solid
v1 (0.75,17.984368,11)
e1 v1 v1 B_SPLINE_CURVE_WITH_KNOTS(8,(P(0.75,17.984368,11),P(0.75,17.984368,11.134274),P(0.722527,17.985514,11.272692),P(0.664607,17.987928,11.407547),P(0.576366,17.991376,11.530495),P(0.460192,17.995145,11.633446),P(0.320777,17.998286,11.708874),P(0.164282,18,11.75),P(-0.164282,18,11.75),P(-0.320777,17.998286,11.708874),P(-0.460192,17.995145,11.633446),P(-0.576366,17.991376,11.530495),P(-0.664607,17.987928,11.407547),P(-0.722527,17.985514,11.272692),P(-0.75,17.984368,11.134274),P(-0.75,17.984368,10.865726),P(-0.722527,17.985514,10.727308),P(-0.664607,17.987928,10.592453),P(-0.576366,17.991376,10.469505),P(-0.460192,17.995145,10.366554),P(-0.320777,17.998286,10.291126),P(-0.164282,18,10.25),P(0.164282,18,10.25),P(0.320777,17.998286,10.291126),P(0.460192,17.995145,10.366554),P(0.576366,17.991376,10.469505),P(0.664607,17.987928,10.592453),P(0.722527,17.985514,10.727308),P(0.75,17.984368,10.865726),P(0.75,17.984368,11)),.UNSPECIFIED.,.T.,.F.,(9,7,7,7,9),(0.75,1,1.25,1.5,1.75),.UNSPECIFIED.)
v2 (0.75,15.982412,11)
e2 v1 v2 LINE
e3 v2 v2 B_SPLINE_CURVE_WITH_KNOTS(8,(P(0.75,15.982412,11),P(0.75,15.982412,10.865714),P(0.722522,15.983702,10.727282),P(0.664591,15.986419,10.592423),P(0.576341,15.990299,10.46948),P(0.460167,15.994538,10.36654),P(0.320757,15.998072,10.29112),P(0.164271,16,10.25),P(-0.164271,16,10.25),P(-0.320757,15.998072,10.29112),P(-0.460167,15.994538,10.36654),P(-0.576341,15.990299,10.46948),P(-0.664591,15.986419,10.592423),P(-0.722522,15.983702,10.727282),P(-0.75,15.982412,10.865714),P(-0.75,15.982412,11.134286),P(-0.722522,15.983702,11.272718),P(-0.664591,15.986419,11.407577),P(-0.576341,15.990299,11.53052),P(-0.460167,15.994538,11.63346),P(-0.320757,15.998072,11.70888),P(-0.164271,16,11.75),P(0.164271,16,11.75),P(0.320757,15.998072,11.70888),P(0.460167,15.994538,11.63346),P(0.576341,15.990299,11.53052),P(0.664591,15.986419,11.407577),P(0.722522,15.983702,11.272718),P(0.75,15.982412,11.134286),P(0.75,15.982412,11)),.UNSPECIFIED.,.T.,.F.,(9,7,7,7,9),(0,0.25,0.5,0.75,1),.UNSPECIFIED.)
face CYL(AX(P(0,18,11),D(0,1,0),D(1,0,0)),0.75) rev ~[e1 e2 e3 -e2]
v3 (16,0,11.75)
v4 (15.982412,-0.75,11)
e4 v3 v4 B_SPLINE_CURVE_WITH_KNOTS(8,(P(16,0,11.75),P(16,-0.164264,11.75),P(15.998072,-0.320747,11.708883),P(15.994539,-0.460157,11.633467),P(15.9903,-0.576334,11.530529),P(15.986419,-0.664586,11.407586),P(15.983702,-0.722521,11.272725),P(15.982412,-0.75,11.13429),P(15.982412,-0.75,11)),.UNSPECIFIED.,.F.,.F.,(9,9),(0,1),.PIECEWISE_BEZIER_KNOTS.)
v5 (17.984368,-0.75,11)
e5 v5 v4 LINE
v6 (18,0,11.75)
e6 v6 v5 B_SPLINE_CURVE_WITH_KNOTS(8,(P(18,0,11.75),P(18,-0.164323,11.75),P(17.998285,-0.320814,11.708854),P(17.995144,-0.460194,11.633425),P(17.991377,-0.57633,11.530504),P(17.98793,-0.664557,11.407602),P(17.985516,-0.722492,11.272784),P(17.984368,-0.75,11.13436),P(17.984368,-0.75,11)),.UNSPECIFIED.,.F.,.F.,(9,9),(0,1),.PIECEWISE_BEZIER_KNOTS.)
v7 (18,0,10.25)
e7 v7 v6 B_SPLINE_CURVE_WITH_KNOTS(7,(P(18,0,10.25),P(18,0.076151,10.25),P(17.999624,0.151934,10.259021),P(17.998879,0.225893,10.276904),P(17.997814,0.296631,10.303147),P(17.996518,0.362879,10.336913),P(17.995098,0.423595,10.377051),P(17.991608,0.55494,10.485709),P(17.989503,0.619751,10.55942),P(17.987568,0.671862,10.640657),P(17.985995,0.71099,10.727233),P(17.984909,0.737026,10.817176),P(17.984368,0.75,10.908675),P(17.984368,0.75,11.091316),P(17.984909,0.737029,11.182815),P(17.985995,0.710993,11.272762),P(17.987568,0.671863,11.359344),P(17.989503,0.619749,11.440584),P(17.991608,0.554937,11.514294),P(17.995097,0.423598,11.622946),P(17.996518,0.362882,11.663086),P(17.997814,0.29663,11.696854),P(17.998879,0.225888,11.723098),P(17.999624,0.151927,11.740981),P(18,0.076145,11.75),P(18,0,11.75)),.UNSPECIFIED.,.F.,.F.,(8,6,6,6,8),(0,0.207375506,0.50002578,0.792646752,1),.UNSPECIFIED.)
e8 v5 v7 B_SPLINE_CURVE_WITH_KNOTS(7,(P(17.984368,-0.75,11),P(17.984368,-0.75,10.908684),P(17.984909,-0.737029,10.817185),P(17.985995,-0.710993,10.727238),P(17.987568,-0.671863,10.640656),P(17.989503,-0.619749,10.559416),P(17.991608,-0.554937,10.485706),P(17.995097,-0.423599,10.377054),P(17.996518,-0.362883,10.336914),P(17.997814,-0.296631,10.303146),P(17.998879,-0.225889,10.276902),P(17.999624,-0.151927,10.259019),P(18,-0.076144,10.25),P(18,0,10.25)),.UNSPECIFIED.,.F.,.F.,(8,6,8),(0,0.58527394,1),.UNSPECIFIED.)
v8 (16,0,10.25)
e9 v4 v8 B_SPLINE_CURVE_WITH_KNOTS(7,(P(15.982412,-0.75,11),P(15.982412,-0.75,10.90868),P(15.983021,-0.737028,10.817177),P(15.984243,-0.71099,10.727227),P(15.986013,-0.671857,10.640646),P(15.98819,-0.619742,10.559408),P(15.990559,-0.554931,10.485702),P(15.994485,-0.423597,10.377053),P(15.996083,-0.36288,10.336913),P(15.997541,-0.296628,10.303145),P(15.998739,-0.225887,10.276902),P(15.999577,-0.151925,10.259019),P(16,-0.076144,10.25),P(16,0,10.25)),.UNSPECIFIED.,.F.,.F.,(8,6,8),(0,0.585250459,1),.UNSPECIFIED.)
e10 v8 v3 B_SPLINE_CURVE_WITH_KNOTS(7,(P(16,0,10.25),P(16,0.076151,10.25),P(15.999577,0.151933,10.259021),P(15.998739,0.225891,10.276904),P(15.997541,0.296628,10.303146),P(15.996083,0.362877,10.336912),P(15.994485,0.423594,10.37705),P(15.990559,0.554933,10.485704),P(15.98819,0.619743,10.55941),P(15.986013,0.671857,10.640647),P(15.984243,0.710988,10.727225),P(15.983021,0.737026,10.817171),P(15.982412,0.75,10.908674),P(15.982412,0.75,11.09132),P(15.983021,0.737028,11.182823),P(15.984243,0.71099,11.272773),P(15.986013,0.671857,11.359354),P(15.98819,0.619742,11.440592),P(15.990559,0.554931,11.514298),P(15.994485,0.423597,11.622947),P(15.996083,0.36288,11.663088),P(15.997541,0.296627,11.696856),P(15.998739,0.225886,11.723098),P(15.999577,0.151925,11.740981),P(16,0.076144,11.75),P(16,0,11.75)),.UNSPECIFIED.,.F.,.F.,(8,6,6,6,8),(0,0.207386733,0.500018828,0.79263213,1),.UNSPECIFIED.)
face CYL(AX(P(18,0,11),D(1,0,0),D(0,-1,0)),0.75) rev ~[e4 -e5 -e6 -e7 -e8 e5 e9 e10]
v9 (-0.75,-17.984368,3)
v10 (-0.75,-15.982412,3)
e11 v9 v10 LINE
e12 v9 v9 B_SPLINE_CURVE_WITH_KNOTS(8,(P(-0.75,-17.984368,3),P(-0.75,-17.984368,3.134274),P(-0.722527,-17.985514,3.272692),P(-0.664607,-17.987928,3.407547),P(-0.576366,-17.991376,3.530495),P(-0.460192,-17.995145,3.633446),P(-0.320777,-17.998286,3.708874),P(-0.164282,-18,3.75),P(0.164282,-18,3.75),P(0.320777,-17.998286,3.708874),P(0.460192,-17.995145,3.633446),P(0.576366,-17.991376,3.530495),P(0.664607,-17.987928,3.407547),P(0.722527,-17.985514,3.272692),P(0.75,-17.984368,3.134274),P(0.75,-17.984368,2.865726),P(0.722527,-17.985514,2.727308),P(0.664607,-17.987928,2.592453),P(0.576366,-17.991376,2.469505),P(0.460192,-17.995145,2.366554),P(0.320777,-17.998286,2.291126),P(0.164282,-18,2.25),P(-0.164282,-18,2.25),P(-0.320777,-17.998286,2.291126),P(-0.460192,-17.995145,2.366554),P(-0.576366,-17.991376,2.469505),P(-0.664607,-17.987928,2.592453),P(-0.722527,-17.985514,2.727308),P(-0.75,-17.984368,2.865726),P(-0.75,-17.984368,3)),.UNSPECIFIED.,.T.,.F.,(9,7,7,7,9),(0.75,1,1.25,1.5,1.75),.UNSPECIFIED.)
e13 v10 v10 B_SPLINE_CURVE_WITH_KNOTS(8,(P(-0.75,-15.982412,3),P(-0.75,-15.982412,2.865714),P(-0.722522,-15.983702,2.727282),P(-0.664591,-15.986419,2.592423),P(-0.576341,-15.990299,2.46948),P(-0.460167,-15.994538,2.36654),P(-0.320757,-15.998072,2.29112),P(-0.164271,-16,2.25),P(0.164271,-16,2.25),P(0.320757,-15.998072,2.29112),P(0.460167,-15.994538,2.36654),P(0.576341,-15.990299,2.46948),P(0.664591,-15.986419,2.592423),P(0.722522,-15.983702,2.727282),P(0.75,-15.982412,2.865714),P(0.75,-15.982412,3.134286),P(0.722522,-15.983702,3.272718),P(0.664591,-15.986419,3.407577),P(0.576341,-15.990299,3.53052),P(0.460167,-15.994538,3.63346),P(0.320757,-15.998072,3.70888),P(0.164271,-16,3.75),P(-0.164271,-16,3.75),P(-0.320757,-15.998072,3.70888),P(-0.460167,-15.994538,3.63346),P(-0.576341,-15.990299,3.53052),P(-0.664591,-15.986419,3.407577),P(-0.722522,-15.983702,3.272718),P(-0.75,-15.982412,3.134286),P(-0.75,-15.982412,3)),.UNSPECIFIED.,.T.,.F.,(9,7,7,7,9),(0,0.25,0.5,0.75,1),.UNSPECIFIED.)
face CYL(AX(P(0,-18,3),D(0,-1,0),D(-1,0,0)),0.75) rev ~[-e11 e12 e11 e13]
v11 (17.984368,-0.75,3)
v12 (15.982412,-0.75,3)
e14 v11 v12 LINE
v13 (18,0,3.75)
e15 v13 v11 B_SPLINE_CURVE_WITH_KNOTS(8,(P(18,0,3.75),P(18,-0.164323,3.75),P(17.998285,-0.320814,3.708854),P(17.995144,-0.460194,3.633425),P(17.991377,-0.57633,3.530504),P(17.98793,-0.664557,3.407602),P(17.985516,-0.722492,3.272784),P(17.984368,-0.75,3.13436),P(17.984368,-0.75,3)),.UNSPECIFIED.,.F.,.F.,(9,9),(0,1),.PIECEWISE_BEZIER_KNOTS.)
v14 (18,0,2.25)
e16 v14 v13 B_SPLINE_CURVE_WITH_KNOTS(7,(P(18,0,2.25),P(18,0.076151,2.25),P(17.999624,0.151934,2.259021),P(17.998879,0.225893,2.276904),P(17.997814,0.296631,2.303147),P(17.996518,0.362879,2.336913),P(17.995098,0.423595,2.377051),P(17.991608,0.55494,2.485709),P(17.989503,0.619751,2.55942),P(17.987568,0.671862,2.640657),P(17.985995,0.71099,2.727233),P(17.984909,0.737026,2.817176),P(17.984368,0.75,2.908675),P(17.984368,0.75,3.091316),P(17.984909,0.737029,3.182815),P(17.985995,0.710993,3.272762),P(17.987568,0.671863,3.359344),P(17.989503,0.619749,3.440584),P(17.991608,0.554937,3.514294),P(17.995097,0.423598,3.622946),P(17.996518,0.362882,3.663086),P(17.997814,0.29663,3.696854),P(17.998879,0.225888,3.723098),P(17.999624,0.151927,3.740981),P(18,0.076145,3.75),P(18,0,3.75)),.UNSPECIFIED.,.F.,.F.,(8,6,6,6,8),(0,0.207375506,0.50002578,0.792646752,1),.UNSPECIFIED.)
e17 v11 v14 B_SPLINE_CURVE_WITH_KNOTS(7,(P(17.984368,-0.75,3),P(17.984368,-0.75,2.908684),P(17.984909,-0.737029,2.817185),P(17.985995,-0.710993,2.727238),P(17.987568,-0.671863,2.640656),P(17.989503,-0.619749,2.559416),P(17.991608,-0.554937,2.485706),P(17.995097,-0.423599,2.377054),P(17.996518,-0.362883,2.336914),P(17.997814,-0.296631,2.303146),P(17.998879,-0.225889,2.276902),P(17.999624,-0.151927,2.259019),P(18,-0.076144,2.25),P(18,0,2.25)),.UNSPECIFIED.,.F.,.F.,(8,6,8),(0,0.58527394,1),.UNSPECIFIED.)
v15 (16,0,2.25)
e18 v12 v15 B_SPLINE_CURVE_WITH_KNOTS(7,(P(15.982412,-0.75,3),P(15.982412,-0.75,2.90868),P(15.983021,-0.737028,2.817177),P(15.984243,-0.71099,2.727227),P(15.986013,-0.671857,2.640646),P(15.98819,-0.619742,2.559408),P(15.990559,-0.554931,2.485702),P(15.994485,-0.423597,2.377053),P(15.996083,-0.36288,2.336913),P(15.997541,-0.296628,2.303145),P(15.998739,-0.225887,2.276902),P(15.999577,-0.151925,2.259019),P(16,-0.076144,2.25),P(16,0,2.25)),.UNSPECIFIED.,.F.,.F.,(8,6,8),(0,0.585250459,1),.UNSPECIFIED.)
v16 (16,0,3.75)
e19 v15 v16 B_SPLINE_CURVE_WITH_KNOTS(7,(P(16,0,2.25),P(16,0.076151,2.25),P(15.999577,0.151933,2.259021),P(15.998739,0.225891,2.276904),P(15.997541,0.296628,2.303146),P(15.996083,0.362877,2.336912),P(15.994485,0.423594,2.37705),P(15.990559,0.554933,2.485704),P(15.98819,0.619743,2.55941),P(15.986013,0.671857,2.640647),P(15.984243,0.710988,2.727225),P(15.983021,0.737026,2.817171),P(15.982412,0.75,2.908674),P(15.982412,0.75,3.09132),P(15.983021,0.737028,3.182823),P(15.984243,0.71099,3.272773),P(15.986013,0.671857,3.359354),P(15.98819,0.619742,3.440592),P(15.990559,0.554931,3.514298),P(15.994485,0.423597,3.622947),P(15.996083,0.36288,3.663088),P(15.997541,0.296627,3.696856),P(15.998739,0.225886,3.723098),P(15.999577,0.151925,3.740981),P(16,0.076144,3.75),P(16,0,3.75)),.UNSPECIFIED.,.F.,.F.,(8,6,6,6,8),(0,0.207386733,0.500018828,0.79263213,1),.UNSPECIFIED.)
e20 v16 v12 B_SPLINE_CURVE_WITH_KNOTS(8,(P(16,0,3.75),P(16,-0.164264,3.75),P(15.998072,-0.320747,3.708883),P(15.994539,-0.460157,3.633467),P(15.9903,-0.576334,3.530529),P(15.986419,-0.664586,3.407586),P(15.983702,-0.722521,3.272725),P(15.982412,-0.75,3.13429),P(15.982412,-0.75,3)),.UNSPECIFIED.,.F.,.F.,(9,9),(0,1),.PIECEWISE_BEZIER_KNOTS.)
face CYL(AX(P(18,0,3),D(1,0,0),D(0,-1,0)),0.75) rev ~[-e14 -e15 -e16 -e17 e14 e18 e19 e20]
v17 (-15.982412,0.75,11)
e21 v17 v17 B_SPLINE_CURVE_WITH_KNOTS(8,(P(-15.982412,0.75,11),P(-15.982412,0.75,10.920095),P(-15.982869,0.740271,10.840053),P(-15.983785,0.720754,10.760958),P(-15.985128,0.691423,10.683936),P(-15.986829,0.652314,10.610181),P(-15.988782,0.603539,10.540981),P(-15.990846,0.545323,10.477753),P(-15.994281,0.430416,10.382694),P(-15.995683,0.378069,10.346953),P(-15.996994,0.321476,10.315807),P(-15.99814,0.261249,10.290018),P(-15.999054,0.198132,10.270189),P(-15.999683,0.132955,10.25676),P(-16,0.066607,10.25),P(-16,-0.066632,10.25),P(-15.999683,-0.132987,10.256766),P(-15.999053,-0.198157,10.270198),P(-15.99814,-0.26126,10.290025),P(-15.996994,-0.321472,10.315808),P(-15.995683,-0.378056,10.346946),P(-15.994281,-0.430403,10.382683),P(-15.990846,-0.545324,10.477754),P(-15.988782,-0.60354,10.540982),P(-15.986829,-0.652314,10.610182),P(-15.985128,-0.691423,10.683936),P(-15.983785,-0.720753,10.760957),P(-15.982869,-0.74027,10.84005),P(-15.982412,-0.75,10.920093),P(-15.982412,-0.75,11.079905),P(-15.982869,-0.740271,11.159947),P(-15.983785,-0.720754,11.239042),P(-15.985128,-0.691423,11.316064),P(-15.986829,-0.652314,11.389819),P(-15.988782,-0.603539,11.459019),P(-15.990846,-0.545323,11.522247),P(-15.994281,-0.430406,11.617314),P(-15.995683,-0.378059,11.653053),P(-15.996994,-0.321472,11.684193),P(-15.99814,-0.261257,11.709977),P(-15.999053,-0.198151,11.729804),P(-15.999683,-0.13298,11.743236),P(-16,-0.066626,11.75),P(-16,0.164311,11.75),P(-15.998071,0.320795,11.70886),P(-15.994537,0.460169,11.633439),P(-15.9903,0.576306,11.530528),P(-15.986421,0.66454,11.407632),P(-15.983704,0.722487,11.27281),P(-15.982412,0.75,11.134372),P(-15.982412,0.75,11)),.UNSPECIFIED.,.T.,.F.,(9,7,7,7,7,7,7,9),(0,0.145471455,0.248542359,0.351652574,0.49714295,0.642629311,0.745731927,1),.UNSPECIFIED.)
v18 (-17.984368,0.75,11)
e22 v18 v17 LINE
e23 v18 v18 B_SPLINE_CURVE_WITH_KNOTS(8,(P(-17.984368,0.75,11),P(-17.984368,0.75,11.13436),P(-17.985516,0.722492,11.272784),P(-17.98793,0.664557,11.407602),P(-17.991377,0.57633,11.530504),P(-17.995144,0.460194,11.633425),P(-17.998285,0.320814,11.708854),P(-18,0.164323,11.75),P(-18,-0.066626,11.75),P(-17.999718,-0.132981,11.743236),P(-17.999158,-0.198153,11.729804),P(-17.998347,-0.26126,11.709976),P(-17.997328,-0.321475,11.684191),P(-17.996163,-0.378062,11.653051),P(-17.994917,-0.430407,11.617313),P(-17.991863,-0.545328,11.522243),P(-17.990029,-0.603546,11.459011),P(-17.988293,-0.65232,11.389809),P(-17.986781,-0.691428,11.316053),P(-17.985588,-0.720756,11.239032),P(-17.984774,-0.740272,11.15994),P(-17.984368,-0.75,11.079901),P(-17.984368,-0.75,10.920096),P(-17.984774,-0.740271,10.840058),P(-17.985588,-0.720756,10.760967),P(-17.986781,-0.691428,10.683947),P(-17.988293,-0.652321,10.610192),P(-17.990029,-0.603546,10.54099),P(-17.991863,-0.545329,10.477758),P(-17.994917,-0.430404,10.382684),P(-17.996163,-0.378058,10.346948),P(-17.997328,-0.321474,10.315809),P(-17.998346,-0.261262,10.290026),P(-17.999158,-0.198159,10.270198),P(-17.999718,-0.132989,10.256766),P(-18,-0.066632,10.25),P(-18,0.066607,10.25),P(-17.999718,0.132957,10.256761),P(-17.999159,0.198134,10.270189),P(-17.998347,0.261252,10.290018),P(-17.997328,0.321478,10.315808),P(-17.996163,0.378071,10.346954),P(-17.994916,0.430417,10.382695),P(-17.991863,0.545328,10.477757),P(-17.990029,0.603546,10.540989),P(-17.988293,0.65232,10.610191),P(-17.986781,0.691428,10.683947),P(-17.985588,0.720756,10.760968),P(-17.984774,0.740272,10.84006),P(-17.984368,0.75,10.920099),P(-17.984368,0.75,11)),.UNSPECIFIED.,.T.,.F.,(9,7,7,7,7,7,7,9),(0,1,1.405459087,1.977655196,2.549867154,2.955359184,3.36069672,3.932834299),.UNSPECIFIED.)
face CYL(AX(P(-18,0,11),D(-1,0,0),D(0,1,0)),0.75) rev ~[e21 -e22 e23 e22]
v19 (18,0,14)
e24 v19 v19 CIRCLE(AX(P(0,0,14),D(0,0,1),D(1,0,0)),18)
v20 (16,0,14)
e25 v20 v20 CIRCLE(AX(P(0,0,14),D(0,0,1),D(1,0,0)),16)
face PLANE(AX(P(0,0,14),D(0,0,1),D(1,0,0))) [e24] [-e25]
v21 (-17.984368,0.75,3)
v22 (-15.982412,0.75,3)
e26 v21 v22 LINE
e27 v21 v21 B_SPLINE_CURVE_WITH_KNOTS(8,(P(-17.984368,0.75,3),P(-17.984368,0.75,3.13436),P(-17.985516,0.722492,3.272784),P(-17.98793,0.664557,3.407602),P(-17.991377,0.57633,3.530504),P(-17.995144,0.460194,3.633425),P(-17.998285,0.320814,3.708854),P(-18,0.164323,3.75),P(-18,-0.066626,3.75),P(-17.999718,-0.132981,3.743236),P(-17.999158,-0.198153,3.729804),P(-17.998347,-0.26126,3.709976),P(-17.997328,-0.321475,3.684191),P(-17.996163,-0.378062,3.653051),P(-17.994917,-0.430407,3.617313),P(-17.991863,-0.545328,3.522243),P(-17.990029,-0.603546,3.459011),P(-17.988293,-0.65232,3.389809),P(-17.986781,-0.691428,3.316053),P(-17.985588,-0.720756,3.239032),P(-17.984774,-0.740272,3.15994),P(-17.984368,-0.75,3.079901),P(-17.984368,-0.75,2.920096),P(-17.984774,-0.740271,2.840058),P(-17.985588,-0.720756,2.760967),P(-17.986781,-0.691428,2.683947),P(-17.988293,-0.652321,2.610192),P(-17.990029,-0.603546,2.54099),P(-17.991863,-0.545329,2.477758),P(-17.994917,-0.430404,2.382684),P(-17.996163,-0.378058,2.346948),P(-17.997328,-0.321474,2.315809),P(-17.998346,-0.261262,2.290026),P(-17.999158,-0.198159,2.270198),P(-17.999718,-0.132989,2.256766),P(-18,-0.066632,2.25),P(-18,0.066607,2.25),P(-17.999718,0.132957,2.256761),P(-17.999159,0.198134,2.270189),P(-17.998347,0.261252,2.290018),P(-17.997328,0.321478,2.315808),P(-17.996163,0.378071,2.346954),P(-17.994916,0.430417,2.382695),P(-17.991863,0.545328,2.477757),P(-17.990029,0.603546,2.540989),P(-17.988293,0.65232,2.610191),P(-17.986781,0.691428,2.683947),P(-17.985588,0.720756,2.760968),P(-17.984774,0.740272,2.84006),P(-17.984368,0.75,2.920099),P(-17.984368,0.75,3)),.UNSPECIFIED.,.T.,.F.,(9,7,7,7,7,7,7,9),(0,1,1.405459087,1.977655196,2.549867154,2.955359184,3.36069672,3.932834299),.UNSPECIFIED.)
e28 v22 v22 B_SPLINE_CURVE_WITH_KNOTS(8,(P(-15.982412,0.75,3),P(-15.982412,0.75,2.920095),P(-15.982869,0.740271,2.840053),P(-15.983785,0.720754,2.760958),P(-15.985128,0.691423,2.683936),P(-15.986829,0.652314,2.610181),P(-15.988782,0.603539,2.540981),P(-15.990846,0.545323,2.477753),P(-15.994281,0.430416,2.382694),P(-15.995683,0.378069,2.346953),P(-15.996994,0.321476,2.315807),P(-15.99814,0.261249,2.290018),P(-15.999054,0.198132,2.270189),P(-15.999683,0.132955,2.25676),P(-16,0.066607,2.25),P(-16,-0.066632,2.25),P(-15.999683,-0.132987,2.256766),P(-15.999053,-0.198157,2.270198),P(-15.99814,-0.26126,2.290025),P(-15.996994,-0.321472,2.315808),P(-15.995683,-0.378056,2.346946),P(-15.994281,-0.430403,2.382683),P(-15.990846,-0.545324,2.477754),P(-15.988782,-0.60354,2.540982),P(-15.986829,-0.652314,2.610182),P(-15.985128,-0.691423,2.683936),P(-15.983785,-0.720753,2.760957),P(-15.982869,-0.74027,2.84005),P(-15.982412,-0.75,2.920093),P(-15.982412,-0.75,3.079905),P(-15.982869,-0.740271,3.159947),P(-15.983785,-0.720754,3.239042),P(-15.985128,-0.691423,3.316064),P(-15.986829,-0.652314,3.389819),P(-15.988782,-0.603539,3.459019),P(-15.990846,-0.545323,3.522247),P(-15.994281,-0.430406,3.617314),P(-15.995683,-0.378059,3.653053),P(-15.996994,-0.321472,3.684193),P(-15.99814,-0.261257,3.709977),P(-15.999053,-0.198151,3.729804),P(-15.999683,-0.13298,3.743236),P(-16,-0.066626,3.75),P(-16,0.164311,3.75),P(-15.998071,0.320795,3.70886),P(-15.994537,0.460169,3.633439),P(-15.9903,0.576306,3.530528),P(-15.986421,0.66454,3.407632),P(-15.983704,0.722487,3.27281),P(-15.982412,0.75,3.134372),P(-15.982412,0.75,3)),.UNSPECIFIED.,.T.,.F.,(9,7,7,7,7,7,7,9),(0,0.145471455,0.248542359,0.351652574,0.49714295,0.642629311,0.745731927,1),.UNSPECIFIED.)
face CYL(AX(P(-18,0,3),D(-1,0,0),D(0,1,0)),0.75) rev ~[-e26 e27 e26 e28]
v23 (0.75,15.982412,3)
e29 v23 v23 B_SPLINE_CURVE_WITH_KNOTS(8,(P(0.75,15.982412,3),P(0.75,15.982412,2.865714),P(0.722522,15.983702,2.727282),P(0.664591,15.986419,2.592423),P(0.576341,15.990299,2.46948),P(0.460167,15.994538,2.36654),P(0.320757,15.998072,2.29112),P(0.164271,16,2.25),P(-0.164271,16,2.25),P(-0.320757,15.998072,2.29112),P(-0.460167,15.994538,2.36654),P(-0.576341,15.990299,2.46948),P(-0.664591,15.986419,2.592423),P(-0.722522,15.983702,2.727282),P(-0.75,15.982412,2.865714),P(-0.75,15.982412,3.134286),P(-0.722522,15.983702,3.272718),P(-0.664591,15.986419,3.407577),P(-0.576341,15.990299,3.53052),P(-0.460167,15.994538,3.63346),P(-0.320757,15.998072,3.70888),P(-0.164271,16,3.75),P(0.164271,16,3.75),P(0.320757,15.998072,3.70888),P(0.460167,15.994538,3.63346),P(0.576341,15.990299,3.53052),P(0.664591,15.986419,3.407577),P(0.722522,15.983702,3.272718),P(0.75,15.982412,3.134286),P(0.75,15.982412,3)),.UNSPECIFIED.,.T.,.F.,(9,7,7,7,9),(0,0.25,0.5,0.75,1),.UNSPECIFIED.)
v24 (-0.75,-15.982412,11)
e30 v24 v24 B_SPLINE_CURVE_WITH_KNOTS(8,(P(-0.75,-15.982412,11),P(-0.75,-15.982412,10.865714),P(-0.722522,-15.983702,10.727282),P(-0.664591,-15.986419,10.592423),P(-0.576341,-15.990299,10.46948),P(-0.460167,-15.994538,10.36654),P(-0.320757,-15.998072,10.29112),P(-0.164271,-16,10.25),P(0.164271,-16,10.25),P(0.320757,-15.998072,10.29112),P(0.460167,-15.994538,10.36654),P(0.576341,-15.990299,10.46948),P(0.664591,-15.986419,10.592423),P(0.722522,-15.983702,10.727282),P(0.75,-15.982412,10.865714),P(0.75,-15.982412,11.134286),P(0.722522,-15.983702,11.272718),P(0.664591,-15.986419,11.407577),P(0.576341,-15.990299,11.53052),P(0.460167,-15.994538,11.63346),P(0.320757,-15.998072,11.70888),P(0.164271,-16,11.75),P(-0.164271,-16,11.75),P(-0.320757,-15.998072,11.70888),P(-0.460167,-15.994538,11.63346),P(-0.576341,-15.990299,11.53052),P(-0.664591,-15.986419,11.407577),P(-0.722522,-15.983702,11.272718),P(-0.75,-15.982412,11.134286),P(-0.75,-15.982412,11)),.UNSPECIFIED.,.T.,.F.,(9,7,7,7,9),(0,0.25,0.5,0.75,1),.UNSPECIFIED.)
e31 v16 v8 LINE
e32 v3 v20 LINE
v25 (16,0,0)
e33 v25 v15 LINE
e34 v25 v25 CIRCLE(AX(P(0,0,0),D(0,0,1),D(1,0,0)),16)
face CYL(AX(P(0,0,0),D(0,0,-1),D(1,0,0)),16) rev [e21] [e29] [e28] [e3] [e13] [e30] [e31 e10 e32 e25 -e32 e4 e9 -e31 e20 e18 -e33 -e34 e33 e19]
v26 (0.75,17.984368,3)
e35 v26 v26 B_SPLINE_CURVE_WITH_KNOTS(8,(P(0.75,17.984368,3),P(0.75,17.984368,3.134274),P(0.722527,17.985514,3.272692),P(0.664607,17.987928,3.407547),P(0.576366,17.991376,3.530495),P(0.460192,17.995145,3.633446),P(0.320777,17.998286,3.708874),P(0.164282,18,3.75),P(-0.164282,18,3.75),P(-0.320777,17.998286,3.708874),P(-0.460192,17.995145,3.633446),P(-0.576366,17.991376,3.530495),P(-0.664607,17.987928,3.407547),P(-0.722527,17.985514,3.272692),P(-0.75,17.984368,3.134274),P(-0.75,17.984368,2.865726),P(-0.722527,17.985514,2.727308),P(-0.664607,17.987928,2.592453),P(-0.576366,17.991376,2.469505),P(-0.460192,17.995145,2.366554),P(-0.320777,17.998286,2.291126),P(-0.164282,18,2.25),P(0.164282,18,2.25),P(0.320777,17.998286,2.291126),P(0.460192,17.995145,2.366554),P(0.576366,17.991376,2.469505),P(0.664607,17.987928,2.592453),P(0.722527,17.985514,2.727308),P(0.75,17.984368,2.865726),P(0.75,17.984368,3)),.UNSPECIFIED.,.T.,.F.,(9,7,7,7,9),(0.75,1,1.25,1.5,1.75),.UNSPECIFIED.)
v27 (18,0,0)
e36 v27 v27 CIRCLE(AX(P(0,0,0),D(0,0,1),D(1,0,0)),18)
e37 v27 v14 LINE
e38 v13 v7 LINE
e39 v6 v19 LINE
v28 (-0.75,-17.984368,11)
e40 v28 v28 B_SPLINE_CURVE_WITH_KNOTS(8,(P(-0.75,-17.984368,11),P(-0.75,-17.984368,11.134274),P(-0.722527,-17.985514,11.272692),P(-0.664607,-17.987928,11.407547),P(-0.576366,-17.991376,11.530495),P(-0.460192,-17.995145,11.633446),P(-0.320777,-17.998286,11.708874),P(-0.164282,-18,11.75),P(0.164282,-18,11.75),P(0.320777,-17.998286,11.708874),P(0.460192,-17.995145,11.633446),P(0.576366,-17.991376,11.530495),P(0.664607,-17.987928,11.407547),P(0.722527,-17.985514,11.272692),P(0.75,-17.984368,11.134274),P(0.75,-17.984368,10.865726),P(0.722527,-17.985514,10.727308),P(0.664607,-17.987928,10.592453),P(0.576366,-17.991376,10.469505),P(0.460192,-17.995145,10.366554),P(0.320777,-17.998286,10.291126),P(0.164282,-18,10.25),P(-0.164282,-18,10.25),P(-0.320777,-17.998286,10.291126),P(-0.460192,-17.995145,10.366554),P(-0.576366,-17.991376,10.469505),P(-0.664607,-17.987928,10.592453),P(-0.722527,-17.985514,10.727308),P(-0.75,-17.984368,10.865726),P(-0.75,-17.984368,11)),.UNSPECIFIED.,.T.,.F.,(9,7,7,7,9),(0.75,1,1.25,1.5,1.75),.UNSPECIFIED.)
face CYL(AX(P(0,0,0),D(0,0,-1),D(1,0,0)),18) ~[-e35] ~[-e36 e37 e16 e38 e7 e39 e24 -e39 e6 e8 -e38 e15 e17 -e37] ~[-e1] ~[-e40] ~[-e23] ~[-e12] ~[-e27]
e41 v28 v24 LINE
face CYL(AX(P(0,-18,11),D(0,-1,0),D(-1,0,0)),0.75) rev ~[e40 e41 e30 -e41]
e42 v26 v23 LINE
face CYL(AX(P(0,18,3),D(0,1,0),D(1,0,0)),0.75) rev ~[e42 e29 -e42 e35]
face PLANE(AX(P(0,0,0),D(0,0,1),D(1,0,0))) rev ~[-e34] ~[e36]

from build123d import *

# Parameters (mm, degrees)
SKETCH1_R           = 18
SKETCH1_R_2         = 16
BOSS_EXTRUDE1_DEPTH = 14
SKETCH2_R           = 0.75
CUT_EXTRUDE1_DEPTH  = 5
CIRPATTERN1_COUNT   = 4


with BuildPart() as part:
    # Sketch1 → Boss-Extrude1 (new body)
    with BuildSketch(Plane.XY):
        Circle(SKETCH1_R)
        Circle(SKETCH1_R_2, mode=Mode.SUBTRACT)
    extrude(amount=BOSS_EXTRUDE1_DEPTH)

    # Sketch2 → Cut-Extrude1 (cut)
    with BuildSketch(Plane(origin=(0, 18, 0), x_dir=(1, 0, 0), z_dir=(0, 1, 0))):
        with Locations((0, -3)):
            Circle(SKETCH2_R)
        with Locations((0, -11)):
            Circle(SKETCH2_R)
    cut_extrude1 = extrude(amount=-CUT_EXTRUDE1_DEPTH, mode=Mode.SUBTRACT)

    # CirPattern1: Cut-Extrude1 ×4 about axis
    cirpattern1_axis = Axis((0, 0, 14), (0, 0, 1))
    for i in range(1, CIRPATTERN1_COUNT):
        add(cut_extrude1.rotate(cirpattern1_axis, i * 360 / CIRPATTERN1_COUNT), mode=Mode.SUBTRACT)


solid = part.part
